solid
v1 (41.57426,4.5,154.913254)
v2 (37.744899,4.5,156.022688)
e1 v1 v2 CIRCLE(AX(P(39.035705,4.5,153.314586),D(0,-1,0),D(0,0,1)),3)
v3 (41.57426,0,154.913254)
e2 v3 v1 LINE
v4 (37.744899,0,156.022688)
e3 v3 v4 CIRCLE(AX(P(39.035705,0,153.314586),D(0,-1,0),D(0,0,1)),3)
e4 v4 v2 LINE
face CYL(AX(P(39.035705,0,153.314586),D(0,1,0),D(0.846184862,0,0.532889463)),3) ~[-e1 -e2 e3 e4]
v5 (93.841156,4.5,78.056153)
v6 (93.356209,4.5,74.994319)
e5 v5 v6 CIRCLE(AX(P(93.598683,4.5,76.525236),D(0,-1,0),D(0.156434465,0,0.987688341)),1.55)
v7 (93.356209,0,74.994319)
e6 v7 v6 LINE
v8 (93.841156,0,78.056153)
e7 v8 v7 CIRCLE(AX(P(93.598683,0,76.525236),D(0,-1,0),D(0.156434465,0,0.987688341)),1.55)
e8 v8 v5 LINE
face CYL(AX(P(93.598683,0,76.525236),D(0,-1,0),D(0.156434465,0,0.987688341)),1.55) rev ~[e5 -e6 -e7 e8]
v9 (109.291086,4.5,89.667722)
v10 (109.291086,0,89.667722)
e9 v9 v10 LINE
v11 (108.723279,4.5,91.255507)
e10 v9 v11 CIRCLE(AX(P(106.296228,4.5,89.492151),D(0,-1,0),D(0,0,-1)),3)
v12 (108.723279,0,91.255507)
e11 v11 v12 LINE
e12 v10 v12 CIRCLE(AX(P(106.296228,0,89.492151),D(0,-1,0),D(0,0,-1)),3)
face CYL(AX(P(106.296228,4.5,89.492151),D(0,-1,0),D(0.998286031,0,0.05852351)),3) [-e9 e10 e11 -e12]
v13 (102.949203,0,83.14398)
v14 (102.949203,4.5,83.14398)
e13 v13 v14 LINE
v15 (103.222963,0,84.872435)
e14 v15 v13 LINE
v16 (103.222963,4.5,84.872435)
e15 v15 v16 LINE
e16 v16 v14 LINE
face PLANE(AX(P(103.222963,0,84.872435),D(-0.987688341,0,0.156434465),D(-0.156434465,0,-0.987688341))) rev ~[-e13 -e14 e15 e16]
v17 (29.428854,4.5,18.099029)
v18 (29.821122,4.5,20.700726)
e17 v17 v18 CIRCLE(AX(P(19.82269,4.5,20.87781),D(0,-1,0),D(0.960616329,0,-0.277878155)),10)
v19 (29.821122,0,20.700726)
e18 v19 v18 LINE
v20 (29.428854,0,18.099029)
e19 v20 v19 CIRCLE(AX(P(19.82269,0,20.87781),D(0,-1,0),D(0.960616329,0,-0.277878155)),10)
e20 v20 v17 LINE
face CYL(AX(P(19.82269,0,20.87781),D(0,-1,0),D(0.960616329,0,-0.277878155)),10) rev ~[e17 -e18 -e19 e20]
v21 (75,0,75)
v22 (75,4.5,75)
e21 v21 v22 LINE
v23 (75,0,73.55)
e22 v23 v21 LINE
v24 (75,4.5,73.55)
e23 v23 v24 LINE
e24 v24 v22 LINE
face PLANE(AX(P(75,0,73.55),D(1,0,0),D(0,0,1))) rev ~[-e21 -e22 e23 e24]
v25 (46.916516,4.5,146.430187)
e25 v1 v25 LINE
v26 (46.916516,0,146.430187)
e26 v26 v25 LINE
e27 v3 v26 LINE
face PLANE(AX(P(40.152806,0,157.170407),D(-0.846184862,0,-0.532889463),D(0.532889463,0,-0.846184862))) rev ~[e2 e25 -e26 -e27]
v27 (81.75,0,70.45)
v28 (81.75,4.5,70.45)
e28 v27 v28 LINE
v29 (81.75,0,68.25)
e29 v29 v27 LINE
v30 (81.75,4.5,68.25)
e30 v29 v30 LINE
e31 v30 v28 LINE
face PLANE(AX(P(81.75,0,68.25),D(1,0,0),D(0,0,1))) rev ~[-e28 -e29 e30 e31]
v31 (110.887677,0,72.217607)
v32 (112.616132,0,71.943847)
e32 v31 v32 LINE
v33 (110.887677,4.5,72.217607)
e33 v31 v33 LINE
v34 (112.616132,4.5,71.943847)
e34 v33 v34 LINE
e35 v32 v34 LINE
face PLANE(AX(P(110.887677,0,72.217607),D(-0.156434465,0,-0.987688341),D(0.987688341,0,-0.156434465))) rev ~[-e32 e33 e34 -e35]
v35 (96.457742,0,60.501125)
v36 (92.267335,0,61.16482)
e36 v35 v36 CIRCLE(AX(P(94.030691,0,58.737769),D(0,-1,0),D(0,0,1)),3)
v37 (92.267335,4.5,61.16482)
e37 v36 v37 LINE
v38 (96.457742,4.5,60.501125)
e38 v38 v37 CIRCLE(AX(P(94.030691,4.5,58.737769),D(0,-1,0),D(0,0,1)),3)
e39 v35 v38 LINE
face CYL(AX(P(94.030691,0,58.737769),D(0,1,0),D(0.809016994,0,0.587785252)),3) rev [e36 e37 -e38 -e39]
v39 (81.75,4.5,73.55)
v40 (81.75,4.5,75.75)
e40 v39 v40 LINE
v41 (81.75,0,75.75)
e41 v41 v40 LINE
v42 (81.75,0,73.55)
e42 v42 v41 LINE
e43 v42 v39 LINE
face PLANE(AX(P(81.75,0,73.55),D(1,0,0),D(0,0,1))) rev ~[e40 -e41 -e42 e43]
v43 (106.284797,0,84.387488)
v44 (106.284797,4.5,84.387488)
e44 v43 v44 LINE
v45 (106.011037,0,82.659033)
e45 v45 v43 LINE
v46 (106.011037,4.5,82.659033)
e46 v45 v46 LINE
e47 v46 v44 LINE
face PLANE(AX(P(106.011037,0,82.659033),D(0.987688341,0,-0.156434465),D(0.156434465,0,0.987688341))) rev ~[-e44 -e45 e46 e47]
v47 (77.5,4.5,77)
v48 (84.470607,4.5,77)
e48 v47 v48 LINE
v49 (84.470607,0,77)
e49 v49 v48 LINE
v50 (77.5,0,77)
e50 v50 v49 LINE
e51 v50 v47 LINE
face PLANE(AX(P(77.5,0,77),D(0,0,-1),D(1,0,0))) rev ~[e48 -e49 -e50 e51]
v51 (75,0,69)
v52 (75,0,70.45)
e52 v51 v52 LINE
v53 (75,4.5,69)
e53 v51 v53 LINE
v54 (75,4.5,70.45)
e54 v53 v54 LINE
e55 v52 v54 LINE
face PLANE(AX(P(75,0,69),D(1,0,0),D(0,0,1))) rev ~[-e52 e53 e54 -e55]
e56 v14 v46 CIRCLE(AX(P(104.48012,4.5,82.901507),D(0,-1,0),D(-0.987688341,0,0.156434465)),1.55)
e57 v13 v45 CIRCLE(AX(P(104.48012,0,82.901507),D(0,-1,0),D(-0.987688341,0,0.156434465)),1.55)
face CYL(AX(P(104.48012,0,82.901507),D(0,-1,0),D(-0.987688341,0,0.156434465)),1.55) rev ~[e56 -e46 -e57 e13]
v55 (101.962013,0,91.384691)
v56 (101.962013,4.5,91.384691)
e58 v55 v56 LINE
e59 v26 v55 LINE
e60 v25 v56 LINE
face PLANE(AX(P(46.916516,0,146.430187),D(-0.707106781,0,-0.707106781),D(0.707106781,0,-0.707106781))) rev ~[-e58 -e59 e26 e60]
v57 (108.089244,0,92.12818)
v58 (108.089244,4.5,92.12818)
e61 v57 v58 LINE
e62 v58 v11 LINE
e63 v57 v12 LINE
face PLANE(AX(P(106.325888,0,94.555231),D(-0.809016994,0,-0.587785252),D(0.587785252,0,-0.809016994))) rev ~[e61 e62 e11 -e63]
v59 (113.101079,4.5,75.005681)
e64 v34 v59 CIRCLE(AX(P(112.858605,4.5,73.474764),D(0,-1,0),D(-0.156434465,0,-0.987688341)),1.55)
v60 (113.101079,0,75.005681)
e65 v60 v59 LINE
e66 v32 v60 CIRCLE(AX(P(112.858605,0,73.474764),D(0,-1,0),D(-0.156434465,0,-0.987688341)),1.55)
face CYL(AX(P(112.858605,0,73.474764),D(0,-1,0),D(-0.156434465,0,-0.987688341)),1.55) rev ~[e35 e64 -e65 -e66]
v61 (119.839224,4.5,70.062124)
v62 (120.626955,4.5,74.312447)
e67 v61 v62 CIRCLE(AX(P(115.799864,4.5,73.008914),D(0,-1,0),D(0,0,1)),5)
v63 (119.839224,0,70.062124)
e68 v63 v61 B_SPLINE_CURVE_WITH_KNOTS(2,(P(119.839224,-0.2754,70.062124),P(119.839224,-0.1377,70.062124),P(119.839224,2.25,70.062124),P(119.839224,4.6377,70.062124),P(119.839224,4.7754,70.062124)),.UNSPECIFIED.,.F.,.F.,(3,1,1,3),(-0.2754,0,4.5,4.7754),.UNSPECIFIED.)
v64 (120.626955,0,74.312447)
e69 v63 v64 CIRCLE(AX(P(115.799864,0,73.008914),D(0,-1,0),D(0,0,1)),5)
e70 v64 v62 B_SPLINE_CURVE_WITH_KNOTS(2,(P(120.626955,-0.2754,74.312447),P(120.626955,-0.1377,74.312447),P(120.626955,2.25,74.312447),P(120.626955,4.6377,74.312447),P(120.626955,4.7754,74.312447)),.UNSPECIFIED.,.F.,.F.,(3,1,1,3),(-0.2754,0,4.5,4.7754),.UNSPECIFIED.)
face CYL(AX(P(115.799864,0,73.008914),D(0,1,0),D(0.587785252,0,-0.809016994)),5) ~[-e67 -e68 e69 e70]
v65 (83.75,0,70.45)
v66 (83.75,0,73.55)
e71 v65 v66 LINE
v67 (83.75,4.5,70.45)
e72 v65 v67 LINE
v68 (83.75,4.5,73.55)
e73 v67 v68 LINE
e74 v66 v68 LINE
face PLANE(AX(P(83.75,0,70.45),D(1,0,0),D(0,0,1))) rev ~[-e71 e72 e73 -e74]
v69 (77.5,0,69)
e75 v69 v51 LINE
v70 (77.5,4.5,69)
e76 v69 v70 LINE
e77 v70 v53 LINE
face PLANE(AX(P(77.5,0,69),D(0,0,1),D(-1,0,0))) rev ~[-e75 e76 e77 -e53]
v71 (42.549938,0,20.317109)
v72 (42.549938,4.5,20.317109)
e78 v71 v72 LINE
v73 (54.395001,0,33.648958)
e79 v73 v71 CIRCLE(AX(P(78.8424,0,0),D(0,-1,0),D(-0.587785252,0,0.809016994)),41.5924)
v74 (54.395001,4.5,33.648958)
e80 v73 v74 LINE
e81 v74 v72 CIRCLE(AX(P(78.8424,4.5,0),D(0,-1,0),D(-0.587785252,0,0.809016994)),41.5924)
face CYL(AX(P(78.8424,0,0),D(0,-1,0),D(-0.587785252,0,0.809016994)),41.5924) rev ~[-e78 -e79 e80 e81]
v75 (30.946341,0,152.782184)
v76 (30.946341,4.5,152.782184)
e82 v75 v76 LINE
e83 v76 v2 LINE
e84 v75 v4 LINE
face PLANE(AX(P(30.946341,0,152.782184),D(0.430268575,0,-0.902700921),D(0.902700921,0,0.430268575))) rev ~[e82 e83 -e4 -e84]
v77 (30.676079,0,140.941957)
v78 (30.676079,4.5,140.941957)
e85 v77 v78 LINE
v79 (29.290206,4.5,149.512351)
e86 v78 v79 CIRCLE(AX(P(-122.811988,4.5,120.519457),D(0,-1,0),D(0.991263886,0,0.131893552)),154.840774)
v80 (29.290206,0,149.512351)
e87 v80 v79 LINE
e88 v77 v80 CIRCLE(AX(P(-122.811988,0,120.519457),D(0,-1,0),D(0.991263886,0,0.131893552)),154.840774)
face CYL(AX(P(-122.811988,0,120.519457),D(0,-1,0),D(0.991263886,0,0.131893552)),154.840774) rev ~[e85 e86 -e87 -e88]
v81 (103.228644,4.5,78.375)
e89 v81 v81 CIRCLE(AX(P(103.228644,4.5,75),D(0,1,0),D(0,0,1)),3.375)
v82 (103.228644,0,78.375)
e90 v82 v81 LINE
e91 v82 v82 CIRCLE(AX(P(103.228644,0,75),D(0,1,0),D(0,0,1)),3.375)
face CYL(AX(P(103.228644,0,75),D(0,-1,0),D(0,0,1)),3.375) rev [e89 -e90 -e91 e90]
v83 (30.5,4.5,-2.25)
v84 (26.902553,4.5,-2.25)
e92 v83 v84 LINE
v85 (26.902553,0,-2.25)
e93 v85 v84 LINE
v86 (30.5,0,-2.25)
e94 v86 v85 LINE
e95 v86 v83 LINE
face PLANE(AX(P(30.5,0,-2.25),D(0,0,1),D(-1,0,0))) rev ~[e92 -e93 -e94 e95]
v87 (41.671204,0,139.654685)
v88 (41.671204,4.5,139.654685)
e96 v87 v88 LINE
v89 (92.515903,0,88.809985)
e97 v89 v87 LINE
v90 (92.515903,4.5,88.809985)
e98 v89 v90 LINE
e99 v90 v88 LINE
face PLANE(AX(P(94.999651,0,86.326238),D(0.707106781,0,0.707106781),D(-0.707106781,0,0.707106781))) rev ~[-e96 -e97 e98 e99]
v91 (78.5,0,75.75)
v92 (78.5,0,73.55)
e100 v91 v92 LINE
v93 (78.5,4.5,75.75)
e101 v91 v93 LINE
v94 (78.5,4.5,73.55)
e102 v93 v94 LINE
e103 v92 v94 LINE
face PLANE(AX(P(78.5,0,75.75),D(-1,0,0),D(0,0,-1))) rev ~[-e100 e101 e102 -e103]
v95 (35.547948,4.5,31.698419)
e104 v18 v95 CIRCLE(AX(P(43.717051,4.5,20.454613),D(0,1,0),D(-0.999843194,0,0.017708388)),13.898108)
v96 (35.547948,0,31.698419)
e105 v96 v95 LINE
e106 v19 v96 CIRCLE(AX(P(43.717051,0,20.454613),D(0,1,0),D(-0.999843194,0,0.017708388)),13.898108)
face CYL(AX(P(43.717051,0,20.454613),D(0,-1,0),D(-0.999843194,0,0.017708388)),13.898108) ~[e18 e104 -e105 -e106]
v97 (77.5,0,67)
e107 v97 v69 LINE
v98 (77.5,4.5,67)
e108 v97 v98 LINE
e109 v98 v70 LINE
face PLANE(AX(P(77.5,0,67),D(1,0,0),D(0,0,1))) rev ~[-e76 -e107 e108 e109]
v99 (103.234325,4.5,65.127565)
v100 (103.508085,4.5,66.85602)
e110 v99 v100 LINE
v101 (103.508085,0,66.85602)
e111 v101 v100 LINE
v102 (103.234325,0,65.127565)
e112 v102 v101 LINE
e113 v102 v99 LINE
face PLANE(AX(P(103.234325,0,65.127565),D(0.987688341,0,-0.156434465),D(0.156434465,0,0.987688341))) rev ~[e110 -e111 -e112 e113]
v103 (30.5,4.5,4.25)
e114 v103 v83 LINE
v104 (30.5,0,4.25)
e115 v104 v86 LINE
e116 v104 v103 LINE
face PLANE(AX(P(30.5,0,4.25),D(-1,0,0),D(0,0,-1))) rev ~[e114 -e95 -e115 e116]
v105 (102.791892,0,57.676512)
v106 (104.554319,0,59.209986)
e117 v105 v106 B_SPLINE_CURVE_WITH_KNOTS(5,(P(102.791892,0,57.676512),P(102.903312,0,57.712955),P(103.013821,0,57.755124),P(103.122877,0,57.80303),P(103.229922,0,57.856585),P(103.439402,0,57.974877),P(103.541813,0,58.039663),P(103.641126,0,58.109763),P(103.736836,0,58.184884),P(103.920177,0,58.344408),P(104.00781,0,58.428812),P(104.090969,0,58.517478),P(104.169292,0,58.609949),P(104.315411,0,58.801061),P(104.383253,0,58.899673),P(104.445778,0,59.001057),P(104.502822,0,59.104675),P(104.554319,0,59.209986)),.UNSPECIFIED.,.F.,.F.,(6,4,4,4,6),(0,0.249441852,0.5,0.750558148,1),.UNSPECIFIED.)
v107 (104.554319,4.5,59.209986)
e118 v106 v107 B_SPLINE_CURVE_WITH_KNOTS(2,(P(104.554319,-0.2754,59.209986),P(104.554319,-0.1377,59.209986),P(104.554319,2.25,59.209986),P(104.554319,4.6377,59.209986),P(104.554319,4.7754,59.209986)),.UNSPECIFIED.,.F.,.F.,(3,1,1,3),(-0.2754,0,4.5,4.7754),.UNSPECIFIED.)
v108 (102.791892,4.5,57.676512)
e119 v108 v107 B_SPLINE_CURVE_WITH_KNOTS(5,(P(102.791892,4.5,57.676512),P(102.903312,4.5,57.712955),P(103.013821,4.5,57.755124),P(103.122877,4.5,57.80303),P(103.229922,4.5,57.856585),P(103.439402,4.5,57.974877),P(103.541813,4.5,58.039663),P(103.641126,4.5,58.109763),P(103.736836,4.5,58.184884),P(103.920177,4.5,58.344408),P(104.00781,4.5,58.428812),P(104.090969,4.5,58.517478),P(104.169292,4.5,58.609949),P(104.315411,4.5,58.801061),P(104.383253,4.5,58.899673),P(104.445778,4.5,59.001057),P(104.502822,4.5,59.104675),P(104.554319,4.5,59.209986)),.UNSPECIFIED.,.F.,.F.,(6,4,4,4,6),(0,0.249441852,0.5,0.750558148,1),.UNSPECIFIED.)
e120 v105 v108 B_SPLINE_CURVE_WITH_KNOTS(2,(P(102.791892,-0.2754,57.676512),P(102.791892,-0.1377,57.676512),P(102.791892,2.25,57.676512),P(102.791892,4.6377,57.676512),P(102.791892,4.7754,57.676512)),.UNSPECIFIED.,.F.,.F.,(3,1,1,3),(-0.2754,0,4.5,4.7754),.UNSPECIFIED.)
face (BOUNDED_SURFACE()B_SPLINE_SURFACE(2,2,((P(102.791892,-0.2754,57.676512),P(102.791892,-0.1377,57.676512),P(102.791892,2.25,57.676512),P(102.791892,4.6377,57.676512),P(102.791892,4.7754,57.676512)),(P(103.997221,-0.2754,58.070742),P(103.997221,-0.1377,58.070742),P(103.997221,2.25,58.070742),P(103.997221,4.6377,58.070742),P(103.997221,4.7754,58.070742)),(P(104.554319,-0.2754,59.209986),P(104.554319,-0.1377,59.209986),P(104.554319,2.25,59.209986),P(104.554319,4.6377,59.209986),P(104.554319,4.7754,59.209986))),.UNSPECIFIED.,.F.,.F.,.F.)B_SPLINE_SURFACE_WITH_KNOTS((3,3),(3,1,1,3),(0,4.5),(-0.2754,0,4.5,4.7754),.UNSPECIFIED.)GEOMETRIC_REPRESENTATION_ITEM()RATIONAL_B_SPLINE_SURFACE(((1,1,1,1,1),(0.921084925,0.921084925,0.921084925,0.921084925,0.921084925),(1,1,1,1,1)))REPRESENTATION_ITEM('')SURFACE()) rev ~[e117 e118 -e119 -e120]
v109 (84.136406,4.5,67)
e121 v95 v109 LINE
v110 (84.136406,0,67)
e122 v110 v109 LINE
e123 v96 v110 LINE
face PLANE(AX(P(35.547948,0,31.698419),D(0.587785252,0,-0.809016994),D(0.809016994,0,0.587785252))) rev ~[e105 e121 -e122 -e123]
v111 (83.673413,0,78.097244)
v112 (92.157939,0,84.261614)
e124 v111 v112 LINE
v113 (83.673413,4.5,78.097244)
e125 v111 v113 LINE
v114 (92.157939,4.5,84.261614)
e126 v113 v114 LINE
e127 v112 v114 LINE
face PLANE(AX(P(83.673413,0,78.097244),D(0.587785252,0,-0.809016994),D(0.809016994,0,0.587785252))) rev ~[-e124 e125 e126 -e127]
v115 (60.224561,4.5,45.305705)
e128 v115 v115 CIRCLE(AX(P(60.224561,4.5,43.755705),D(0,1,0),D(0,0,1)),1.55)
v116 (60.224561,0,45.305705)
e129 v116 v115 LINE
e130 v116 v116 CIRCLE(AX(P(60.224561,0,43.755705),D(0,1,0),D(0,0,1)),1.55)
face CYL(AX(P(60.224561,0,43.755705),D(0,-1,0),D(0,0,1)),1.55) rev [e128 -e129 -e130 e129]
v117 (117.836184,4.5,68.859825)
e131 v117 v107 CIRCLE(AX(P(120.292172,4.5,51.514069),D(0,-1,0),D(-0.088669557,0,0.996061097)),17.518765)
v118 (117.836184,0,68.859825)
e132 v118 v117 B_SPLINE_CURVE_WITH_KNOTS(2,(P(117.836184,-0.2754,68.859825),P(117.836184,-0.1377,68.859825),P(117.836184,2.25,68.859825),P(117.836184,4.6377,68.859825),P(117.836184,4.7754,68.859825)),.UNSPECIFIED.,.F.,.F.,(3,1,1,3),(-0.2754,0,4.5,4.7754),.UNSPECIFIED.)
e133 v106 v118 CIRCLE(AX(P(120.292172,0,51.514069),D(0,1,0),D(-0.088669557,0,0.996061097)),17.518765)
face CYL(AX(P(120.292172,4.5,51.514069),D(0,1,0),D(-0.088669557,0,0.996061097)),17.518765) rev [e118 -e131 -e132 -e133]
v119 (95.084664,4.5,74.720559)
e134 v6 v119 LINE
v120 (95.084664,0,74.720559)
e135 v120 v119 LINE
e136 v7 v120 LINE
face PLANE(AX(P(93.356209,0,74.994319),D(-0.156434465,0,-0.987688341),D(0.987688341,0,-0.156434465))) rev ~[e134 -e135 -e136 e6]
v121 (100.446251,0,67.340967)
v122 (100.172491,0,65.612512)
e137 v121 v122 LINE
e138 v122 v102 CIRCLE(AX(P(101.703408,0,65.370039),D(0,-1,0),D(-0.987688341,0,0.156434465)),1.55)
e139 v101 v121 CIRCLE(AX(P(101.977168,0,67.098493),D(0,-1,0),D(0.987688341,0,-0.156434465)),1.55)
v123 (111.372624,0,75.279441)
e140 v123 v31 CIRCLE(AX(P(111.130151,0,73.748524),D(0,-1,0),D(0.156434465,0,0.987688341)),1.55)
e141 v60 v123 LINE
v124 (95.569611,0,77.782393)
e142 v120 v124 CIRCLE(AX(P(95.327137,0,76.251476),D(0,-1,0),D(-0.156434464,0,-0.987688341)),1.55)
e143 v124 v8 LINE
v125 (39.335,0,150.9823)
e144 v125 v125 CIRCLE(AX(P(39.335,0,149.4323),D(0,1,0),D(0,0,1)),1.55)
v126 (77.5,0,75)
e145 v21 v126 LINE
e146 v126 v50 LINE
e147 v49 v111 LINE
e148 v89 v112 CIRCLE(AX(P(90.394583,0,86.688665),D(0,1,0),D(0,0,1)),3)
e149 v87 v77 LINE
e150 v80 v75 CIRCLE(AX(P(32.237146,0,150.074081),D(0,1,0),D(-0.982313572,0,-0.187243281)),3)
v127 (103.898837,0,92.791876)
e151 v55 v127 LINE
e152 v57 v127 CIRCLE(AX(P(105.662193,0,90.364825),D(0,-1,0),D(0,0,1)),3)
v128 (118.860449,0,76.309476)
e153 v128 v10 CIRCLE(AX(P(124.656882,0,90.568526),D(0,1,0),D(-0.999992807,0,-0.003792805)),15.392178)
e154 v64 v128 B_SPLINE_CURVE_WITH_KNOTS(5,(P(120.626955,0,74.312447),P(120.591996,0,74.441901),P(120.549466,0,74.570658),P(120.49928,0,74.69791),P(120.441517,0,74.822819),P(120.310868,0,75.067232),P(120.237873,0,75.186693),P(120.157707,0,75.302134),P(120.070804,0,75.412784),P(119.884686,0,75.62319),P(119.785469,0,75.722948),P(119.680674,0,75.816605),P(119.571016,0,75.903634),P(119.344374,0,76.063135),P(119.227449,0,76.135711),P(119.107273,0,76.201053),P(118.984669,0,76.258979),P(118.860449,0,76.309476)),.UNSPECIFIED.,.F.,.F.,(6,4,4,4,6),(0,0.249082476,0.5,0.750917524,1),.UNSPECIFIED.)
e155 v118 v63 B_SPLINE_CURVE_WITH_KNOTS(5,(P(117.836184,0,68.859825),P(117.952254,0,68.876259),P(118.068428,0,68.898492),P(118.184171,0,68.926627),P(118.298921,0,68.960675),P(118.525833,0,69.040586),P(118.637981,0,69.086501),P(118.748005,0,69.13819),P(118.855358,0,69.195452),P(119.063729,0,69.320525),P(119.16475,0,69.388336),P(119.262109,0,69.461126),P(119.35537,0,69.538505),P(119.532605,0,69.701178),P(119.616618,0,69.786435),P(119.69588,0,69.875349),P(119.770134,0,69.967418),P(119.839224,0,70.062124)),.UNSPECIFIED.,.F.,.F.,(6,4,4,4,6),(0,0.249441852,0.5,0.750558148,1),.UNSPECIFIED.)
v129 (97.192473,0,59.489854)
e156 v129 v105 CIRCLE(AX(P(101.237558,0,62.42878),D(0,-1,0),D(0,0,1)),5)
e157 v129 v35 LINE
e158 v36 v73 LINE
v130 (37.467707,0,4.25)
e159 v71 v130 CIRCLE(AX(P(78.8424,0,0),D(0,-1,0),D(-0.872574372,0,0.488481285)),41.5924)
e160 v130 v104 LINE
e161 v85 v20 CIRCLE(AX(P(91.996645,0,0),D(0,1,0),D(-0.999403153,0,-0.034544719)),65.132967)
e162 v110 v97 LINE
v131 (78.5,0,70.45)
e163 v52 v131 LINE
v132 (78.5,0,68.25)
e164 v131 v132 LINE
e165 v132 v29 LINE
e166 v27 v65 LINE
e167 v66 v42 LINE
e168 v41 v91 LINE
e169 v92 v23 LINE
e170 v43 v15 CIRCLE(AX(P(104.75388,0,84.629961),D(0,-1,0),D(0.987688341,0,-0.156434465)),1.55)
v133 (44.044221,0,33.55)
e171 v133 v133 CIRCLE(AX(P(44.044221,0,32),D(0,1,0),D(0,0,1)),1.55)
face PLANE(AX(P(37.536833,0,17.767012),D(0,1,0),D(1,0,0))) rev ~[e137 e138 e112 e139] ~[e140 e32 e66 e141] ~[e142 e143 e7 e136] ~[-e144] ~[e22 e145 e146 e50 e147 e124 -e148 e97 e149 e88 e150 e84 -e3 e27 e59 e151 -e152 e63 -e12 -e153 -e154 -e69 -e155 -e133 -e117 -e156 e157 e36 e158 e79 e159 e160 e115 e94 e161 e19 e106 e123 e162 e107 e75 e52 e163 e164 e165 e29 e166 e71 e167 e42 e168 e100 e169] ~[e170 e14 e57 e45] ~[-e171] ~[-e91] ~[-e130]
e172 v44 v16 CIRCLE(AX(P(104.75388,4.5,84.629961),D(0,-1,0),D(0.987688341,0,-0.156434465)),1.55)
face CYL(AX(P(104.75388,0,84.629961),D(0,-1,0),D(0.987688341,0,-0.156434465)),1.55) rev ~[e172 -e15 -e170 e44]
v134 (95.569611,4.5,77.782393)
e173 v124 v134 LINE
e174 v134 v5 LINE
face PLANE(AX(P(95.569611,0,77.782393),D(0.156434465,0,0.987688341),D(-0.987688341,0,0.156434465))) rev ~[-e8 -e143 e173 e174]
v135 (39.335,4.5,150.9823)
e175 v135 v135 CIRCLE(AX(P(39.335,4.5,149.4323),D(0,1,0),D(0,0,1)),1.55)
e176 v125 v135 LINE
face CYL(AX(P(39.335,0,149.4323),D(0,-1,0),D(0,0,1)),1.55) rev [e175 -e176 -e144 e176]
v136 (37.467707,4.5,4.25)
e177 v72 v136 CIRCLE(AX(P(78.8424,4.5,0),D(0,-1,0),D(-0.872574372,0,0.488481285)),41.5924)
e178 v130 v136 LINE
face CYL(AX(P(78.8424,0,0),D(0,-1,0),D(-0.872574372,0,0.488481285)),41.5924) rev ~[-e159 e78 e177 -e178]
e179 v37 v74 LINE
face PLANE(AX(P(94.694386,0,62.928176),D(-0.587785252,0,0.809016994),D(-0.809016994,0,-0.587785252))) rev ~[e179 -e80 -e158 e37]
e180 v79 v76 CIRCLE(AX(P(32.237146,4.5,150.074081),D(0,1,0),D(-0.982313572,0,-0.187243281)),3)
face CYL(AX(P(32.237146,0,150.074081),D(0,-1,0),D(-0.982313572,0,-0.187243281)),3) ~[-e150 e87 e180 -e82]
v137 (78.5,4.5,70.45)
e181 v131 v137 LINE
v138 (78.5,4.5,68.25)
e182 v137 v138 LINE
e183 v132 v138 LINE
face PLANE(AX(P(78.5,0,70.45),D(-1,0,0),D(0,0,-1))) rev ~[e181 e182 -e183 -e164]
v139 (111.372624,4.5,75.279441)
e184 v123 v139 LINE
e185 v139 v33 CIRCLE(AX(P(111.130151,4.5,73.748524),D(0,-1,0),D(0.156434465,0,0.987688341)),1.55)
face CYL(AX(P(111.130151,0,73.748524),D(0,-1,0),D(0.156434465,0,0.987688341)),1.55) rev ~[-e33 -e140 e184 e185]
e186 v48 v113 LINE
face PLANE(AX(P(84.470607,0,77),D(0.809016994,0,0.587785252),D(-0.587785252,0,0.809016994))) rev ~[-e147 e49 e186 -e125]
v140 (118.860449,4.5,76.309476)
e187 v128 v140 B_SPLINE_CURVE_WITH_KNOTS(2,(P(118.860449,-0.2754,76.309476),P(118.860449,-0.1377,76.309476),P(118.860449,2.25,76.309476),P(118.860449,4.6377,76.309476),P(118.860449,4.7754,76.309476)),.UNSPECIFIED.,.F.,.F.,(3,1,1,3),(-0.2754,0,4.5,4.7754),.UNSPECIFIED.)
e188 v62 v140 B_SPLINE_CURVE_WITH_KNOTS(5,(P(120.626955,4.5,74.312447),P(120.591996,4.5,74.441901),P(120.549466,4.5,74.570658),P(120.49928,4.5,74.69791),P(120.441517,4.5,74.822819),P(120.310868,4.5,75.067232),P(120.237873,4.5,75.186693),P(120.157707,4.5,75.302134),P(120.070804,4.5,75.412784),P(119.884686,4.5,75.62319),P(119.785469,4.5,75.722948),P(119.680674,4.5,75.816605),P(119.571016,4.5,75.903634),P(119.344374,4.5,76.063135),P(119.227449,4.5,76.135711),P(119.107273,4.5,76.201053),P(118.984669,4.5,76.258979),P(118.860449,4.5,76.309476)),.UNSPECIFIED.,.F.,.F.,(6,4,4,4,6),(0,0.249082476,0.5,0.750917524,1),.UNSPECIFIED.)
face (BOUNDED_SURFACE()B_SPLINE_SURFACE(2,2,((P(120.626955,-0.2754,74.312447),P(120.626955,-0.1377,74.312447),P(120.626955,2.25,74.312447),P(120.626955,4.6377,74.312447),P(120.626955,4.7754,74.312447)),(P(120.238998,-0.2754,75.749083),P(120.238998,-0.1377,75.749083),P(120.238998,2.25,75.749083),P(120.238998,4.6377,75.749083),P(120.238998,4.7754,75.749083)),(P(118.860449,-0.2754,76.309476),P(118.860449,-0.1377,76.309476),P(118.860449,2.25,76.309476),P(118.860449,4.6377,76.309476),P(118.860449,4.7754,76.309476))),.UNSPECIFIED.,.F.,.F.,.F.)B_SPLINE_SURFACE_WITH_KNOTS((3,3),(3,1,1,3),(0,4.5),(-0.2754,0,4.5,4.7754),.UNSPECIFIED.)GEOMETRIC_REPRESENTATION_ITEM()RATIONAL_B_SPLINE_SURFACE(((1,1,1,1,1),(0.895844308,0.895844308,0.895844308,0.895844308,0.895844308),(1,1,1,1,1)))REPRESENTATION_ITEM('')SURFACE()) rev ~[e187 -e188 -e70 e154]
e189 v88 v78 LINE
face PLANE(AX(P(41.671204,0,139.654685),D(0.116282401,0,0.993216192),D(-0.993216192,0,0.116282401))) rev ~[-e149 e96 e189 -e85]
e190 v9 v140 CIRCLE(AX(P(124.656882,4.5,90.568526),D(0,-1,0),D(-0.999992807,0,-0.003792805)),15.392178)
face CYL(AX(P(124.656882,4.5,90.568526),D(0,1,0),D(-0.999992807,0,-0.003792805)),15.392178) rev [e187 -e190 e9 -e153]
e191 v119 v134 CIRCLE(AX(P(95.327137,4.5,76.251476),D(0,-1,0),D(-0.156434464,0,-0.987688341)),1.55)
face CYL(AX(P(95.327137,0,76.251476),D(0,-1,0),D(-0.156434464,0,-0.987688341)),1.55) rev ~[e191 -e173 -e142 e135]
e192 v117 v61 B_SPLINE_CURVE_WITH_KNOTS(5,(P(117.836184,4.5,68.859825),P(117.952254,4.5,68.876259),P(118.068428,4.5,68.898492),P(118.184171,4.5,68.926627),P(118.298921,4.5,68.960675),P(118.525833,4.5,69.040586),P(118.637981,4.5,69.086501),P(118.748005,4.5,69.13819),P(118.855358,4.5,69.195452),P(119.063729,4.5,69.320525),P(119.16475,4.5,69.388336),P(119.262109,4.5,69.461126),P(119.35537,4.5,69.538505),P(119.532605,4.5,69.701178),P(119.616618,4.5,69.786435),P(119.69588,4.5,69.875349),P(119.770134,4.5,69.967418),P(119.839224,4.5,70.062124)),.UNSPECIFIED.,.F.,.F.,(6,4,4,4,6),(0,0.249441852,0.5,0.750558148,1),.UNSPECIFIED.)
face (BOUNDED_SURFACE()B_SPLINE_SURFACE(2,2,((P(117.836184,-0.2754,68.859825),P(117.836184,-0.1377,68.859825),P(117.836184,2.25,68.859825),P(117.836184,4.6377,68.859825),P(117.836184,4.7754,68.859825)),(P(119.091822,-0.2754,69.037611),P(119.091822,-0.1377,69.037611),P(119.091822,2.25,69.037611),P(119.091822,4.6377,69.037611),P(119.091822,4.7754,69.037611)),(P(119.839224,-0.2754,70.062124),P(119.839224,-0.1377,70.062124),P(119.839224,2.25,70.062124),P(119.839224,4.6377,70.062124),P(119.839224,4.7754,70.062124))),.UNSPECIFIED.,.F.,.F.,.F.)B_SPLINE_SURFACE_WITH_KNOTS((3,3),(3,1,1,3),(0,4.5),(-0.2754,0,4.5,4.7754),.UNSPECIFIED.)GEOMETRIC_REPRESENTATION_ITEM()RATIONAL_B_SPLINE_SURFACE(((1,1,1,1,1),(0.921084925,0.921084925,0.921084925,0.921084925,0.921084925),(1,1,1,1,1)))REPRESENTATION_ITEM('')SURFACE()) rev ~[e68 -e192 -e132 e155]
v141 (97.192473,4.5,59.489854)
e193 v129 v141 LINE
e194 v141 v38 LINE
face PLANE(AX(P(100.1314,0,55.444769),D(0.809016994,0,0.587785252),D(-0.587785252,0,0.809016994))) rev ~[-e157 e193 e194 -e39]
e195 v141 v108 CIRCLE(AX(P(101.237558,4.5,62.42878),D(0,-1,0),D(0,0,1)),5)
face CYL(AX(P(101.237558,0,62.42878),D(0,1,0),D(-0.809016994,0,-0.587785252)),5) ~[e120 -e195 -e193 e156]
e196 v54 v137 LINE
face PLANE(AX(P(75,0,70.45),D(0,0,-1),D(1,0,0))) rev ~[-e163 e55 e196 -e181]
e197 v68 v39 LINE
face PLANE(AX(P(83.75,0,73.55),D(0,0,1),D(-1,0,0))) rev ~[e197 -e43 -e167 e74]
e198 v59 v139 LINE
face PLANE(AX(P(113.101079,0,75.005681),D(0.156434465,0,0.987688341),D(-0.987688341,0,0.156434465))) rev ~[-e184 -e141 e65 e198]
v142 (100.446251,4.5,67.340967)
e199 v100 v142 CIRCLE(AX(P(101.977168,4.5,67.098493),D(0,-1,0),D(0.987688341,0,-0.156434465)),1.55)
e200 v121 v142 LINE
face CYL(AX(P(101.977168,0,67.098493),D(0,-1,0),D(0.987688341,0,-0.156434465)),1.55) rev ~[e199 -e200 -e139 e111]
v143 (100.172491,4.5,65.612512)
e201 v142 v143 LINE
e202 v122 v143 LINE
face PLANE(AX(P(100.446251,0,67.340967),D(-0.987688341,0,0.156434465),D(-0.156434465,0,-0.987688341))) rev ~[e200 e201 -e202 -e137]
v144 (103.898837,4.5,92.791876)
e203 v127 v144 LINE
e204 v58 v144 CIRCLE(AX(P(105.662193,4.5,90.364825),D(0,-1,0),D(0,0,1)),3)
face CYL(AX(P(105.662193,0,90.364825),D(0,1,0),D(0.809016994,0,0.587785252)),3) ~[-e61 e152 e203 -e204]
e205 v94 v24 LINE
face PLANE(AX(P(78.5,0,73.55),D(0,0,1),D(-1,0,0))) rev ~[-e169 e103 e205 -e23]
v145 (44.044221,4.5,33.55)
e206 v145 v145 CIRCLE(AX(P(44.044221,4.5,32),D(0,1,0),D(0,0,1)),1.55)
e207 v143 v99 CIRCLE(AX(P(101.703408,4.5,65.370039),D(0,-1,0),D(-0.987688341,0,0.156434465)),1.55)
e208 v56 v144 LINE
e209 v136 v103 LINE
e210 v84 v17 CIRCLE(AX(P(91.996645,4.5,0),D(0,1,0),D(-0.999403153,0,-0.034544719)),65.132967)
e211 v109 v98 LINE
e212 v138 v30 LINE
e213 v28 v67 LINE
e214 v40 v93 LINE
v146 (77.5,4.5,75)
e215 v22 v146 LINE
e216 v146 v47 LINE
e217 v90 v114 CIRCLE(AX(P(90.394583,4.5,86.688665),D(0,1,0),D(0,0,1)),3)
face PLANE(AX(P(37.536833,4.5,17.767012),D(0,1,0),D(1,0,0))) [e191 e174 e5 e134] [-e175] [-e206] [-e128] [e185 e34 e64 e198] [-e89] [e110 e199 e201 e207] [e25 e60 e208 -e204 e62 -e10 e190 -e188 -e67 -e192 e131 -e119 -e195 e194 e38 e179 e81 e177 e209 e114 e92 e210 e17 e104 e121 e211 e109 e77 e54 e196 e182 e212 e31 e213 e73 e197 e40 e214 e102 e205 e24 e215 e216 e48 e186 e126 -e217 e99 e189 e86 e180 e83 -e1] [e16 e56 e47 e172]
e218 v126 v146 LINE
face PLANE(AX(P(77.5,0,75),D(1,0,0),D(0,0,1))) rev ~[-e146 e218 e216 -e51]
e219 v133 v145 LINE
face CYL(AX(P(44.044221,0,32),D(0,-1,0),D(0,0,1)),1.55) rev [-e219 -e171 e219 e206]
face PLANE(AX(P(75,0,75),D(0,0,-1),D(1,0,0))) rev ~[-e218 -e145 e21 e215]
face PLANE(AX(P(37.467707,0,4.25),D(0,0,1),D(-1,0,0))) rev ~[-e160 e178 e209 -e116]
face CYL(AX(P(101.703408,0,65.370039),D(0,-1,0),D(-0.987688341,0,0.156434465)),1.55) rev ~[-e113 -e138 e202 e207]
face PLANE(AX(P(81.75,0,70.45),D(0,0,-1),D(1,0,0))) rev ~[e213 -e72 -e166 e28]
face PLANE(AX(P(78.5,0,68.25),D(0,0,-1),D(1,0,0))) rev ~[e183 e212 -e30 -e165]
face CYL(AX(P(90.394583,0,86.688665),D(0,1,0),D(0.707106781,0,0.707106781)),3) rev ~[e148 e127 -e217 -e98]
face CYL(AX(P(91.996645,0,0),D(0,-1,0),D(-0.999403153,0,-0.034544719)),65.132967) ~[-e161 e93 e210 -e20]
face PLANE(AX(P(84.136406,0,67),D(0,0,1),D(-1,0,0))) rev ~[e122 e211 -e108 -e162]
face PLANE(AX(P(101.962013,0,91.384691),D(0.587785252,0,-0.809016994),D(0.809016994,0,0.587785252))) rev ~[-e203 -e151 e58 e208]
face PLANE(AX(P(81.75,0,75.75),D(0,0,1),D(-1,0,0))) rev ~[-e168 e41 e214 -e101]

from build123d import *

# Parameters (mm, degrees)
SKETCH_3_R          = 1.55
SKETCH_3_R_2        = 3.375
EXTRUDE_1_DEPTH     = 4.5
FILLET_1_R          = 5
CUT_EXTRUDE_2_REACH = 200.281
FILLET_3_R          = 3
EXTRUDE_5096_DEPTH  = 4.5


with BuildPart() as part:
    # 草图3 → 凸台-拉伸1 (new body)
    with BuildSketch(Plane(origin=(0, 0, 0), x_dir=(1, 0, 0), z_dir=(0, 1, 0))):
        with BuildLine():
            Line((94.694386062, -62.928175745), (41.131907973, -24.012757507))
            ThreePointArc((41.131907973, -24.012757507), (34.497097301, -25.063608282), (35.547948076, -31.698418954))
            Line((35.547948076, -31.698418954), (84.136405992, -67))
            Line((84.136405992, -67), (77.5, -67))
            Line((77.5, -67), (77.5, -69))
            Line((77.5, -69), (75, -69))
            Line((75, -69), (75, -70.45))
            Line((75, -70.45), (78.5, -70.45))
            Line((78.5, -70.45), (78.5, -68.25))
            Line((78.5, -68.25), (81.75, -68.25))
            Line((81.75, -68.25), (81.75, -70.45))
            Line((81.75, -70.45), (83.75, -70.45))
            Line((83.75, -70.45), (83.75, -73.55))
            Line((83.75, -73.55), (81.75, -73.55))
            Line((81.75, -73.55), (81.75, -75.75))
            Line((81.75, -75.75), (78.5, -75.75))
            Line((78.5, -75.75), (78.5, -73.55))
            Line((78.5, -73.55), (75, -73.55))
            Line((75, -73.55), (75, -75))
            Line((75, -75), (77.5, -75))
            Line((77.5, -75), (77.5, -77))
            Line((77.5, -77), (84.136405992, -77))
            Line((84.136405992, -77), (84.470607294, -77))
            Line((84.470607294, -77), (83.673412582, -78.097244389))
            Line((83.673412582, -78.097244389), (94.999650503, -86.326237921))
            Line((94.999650503, -86.326237921), (41.671203749, -139.654684675))
            Line((41.671203749, -139.654684675), (30.676078989, -140.941956792))
            ThreePointArc((30.676078989, -140.941956792), (30.043220441, -145.236869059), (29.290205532, -149.512351472))
            ThreePointArc((29.290205532, -149.512351472), (29.56084749, -151.429597804), (30.946340523, -152.782184076))
            Line((30.946340523, -152.782184076), (40.152805518, -157.170406668))
            Line((40.152805518, -157.170406668), (46.916516286, -146.430187419))
            Line((46.916516286, -146.430187419), (101.962013194, -91.384690511))
            Line((101.962013194, -91.384690511), (106.325888424, -94.555231453))
            Line((106.325888424, -94.555231453), (122.783875489, -71.902755611))
            Line((122.783875489, -71.902755611), (100.131399646, -55.444768547))
            Line((100.131399646, -55.444768547), (94.694386062, -62.928175745))
        make_face()
        with Locations(Location((39.335, -149.432300402, 0), (0, 0, 270))):
            Circle(SKETCH_3_R, mode=Mode.SUBTRACT)
        with Locations(Location((44.044221455, -32, 0), (0, 0, 270))):
            Circle(SKETCH_3_R, mode=Mode.SUBTRACT)
        with Locations(Location((60.224561343, -43.755705046, 0), (0, 0, 270))):
            Circle(SKETCH_3_R, mode=Mode.SUBTRACT)
        with BuildLine():
            ThreePointArc((95.08466389, -74.720558792), (96.858054238, -76.0090023), (95.569610731, -77.782392648))
            Line((95.569610731, -77.782392648), (93.841156135, -78.056152962))
            ThreePointArc((93.841156135, -78.056152962), (92.067765787, -76.767709455), (93.356209294, -74.994319106))
            Line((93.356209294, -74.994319106), (95.08466389, -74.720558792))
        make_face(mode=Mode.SUBTRACT)
        with BuildLine():
            Line((103.222963142, -84.872434742), (102.949202828, -83.143980146))
            ThreePointArc((102.949202828, -83.143980146), (104.237646335, -81.370589797), (106.011036684, -82.659033304))
            Line((106.011036684, -82.659033304), (106.284796997, -84.3874879))
            ThreePointArc((106.284796997, -84.3874879), (104.99635349, -86.160878249), (103.222963142, -84.872434742))
        make_face(mode=Mode.SUBTRACT)
        with Locations(Location((103.228644035, -75, 0), (0, 0, 270))):
            Circle(SKETCH_3_R_2, mode=Mode.SUBTRACT)
        with BuildLine():
            ThreePointArc((111.372624181, -75.279441208), (109.599233832, -73.9909977), (110.887677339, -72.217607352))
            Line((110.887677339, -72.217607352), (112.616131935, -71.943847038))
            ThreePointArc((112.616131935, -71.943847038), (114.389522284, -73.232290545), (113.101078777, -75.005680894))
            Line((113.101078777, -75.005680894), (111.372624181, -75.279441208))
        make_face(mode=Mode.SUBTRACT)
        with BuildLine():
            Line((103.234324929, -65.127565258), (103.508085243, -66.856019854))
            ThreePointArc((103.508085243, -66.856019854), (102.219641736, -68.629410203), (100.446251387, -67.340966696))
            Line((100.446251387, -67.340966696), (100.172491073, -65.6125121))
            ThreePointArc((100.172491073, -65.6125121), (101.46093458, -63.839121751), (103.234324929, -65.127565258))
        make_face(mode=Mode.SUBTRACT)
    extrude(amount=EXTRUDE_1_DEPTH)

    # 圆角-美观1
    fillet_1_edges = [part.edges().sort_by_distance(p)[0] for p in [
        (100.131399646, 2.25, 55.444768547),
        (122.783875489, 2.25, 71.902755611),
    ]]
    fillet(fillet_1_edges, radius=FILLET_1_R)

    # 草图4 → 圆弧-美观2 (cut, up to next)
    with BuildSketch(Plane(origin=(0, 4.5, 0), x_dir=(1, 0, 0), z_dir=(0, 1, 0)), mode=Mode.PRIVATE) as cut_extrude_2_sk1:
        with BuildLine():
            ThreePointArc((118.738790517, -68.963829349), (109.994899962, -65.687047674), (104.176484618, -58.383694808))
            Line((104.176484618, -58.383694808), (118.738790517, -68.963829349))
        make_face()
    cut_extrude_2_tool1 = extrude(cut_extrude_2_sk1.sketch, amount=-CUT_EXTRUDE_2_REACH, mode=Mode.PRIVATE) & part.part
    # 草图4 → 圆弧-美观2 (cut, up to next)
    with BuildSketch(Plane(origin=(0, 4.5, 0), x_dir=(1, 0, 0), z_dir=(0, 1, 0)), mode=Mode.PRIVATE) as cut_extrude_2_sk2:
        with BuildLine():
            Line((119.844949227, -75.947840583), (109.264814686, -90.510146481))
            ThreePointArc((109.264814686, -90.510146481), (112.204348353, -81.521230905), (119.844949227, -75.947840583))
        make_face()
    cut_extrude_2_tool2 = extrude(cut_extrude_2_sk2.sketch, amount=-CUT_EXTRUDE_2_REACH, mode=Mode.PRIVATE) & part.part
    add(cut_extrude_2_tool1.solids().sort_by_distance((110.868828, 4.5, 64.48419))[0], mode=Mode.SUBTRACT)
    add(cut_extrude_2_tool2.solids().sort_by_distance((113.606622, 4.5, 82.540042))[0], mode=Mode.SUBTRACT)

    # 圆角-美观3
    fillet_3_edges = [part.edges().sort_by_distance(p)[0] for p in [
        (94.999650503, 2.25, 86.326237921),
        (94.694386062, 2.25, 62.928175745),
        (106.325888424, 2.25, 94.555231453),
        (40.152805518, 2.25, 157.170406668),
        (118.738790517, 2.25, 68.963829349),
        (104.176484618, 2.25, 58.383694808),
        (119.844949227, 2.25, 75.947840583),
        (109.264814686, 2.25, 90.510146481),
    ]]
    fillet(fillet_3_edges, radius=FILLET_3_R)

    # 草图5 → Extrude 5096 (add)
    with BuildSketch(Plane(origin=(0, 0, 0), x_dir=(1, 0, 0), z_dir=(0, 1, 0))):
        with BuildLine():
            Line((41.131907973, -24.012757507), (54.395000648, -33.648958388))
            ThreePointArc((54.395000648, -33.648958388), (47.749518962, -27.625359459), (42.549937685, -20.317108954))
            ThreePointArc((42.549937685, -20.317108954), (39.186571182, -12.543642943), (37.467706796, -4.25))
            Line((37.467706796, -4.25), (30.5, -4.25))
            Line((30.5, -4.25), (30.5, -3.25))
            Line((30.5, -3.25), (30.5, 2.25))
            Line((30.5, 2.25), (26.902552576, 2.25))
            ThreePointArc((26.902552576, 2.25), (27.35989158, -8.024554542), (29.428853503, -18.099028552))
            ThreePointArc((29.428853503, -18.099028552), (29.710927986, -19.386919832), (29.821122157, -20.700726214))
            ThreePointArc((29.821122157, -20.700726214), (31.390100135, -26.873623403), (35.547948076, -31.698418954))
            Line((35.547948076, -31.698418954), (41.131907973, -24.012757507))
        make_face()
    extrude(amount=EXTRUDE_5096_DEPTH)


solid = part.part
